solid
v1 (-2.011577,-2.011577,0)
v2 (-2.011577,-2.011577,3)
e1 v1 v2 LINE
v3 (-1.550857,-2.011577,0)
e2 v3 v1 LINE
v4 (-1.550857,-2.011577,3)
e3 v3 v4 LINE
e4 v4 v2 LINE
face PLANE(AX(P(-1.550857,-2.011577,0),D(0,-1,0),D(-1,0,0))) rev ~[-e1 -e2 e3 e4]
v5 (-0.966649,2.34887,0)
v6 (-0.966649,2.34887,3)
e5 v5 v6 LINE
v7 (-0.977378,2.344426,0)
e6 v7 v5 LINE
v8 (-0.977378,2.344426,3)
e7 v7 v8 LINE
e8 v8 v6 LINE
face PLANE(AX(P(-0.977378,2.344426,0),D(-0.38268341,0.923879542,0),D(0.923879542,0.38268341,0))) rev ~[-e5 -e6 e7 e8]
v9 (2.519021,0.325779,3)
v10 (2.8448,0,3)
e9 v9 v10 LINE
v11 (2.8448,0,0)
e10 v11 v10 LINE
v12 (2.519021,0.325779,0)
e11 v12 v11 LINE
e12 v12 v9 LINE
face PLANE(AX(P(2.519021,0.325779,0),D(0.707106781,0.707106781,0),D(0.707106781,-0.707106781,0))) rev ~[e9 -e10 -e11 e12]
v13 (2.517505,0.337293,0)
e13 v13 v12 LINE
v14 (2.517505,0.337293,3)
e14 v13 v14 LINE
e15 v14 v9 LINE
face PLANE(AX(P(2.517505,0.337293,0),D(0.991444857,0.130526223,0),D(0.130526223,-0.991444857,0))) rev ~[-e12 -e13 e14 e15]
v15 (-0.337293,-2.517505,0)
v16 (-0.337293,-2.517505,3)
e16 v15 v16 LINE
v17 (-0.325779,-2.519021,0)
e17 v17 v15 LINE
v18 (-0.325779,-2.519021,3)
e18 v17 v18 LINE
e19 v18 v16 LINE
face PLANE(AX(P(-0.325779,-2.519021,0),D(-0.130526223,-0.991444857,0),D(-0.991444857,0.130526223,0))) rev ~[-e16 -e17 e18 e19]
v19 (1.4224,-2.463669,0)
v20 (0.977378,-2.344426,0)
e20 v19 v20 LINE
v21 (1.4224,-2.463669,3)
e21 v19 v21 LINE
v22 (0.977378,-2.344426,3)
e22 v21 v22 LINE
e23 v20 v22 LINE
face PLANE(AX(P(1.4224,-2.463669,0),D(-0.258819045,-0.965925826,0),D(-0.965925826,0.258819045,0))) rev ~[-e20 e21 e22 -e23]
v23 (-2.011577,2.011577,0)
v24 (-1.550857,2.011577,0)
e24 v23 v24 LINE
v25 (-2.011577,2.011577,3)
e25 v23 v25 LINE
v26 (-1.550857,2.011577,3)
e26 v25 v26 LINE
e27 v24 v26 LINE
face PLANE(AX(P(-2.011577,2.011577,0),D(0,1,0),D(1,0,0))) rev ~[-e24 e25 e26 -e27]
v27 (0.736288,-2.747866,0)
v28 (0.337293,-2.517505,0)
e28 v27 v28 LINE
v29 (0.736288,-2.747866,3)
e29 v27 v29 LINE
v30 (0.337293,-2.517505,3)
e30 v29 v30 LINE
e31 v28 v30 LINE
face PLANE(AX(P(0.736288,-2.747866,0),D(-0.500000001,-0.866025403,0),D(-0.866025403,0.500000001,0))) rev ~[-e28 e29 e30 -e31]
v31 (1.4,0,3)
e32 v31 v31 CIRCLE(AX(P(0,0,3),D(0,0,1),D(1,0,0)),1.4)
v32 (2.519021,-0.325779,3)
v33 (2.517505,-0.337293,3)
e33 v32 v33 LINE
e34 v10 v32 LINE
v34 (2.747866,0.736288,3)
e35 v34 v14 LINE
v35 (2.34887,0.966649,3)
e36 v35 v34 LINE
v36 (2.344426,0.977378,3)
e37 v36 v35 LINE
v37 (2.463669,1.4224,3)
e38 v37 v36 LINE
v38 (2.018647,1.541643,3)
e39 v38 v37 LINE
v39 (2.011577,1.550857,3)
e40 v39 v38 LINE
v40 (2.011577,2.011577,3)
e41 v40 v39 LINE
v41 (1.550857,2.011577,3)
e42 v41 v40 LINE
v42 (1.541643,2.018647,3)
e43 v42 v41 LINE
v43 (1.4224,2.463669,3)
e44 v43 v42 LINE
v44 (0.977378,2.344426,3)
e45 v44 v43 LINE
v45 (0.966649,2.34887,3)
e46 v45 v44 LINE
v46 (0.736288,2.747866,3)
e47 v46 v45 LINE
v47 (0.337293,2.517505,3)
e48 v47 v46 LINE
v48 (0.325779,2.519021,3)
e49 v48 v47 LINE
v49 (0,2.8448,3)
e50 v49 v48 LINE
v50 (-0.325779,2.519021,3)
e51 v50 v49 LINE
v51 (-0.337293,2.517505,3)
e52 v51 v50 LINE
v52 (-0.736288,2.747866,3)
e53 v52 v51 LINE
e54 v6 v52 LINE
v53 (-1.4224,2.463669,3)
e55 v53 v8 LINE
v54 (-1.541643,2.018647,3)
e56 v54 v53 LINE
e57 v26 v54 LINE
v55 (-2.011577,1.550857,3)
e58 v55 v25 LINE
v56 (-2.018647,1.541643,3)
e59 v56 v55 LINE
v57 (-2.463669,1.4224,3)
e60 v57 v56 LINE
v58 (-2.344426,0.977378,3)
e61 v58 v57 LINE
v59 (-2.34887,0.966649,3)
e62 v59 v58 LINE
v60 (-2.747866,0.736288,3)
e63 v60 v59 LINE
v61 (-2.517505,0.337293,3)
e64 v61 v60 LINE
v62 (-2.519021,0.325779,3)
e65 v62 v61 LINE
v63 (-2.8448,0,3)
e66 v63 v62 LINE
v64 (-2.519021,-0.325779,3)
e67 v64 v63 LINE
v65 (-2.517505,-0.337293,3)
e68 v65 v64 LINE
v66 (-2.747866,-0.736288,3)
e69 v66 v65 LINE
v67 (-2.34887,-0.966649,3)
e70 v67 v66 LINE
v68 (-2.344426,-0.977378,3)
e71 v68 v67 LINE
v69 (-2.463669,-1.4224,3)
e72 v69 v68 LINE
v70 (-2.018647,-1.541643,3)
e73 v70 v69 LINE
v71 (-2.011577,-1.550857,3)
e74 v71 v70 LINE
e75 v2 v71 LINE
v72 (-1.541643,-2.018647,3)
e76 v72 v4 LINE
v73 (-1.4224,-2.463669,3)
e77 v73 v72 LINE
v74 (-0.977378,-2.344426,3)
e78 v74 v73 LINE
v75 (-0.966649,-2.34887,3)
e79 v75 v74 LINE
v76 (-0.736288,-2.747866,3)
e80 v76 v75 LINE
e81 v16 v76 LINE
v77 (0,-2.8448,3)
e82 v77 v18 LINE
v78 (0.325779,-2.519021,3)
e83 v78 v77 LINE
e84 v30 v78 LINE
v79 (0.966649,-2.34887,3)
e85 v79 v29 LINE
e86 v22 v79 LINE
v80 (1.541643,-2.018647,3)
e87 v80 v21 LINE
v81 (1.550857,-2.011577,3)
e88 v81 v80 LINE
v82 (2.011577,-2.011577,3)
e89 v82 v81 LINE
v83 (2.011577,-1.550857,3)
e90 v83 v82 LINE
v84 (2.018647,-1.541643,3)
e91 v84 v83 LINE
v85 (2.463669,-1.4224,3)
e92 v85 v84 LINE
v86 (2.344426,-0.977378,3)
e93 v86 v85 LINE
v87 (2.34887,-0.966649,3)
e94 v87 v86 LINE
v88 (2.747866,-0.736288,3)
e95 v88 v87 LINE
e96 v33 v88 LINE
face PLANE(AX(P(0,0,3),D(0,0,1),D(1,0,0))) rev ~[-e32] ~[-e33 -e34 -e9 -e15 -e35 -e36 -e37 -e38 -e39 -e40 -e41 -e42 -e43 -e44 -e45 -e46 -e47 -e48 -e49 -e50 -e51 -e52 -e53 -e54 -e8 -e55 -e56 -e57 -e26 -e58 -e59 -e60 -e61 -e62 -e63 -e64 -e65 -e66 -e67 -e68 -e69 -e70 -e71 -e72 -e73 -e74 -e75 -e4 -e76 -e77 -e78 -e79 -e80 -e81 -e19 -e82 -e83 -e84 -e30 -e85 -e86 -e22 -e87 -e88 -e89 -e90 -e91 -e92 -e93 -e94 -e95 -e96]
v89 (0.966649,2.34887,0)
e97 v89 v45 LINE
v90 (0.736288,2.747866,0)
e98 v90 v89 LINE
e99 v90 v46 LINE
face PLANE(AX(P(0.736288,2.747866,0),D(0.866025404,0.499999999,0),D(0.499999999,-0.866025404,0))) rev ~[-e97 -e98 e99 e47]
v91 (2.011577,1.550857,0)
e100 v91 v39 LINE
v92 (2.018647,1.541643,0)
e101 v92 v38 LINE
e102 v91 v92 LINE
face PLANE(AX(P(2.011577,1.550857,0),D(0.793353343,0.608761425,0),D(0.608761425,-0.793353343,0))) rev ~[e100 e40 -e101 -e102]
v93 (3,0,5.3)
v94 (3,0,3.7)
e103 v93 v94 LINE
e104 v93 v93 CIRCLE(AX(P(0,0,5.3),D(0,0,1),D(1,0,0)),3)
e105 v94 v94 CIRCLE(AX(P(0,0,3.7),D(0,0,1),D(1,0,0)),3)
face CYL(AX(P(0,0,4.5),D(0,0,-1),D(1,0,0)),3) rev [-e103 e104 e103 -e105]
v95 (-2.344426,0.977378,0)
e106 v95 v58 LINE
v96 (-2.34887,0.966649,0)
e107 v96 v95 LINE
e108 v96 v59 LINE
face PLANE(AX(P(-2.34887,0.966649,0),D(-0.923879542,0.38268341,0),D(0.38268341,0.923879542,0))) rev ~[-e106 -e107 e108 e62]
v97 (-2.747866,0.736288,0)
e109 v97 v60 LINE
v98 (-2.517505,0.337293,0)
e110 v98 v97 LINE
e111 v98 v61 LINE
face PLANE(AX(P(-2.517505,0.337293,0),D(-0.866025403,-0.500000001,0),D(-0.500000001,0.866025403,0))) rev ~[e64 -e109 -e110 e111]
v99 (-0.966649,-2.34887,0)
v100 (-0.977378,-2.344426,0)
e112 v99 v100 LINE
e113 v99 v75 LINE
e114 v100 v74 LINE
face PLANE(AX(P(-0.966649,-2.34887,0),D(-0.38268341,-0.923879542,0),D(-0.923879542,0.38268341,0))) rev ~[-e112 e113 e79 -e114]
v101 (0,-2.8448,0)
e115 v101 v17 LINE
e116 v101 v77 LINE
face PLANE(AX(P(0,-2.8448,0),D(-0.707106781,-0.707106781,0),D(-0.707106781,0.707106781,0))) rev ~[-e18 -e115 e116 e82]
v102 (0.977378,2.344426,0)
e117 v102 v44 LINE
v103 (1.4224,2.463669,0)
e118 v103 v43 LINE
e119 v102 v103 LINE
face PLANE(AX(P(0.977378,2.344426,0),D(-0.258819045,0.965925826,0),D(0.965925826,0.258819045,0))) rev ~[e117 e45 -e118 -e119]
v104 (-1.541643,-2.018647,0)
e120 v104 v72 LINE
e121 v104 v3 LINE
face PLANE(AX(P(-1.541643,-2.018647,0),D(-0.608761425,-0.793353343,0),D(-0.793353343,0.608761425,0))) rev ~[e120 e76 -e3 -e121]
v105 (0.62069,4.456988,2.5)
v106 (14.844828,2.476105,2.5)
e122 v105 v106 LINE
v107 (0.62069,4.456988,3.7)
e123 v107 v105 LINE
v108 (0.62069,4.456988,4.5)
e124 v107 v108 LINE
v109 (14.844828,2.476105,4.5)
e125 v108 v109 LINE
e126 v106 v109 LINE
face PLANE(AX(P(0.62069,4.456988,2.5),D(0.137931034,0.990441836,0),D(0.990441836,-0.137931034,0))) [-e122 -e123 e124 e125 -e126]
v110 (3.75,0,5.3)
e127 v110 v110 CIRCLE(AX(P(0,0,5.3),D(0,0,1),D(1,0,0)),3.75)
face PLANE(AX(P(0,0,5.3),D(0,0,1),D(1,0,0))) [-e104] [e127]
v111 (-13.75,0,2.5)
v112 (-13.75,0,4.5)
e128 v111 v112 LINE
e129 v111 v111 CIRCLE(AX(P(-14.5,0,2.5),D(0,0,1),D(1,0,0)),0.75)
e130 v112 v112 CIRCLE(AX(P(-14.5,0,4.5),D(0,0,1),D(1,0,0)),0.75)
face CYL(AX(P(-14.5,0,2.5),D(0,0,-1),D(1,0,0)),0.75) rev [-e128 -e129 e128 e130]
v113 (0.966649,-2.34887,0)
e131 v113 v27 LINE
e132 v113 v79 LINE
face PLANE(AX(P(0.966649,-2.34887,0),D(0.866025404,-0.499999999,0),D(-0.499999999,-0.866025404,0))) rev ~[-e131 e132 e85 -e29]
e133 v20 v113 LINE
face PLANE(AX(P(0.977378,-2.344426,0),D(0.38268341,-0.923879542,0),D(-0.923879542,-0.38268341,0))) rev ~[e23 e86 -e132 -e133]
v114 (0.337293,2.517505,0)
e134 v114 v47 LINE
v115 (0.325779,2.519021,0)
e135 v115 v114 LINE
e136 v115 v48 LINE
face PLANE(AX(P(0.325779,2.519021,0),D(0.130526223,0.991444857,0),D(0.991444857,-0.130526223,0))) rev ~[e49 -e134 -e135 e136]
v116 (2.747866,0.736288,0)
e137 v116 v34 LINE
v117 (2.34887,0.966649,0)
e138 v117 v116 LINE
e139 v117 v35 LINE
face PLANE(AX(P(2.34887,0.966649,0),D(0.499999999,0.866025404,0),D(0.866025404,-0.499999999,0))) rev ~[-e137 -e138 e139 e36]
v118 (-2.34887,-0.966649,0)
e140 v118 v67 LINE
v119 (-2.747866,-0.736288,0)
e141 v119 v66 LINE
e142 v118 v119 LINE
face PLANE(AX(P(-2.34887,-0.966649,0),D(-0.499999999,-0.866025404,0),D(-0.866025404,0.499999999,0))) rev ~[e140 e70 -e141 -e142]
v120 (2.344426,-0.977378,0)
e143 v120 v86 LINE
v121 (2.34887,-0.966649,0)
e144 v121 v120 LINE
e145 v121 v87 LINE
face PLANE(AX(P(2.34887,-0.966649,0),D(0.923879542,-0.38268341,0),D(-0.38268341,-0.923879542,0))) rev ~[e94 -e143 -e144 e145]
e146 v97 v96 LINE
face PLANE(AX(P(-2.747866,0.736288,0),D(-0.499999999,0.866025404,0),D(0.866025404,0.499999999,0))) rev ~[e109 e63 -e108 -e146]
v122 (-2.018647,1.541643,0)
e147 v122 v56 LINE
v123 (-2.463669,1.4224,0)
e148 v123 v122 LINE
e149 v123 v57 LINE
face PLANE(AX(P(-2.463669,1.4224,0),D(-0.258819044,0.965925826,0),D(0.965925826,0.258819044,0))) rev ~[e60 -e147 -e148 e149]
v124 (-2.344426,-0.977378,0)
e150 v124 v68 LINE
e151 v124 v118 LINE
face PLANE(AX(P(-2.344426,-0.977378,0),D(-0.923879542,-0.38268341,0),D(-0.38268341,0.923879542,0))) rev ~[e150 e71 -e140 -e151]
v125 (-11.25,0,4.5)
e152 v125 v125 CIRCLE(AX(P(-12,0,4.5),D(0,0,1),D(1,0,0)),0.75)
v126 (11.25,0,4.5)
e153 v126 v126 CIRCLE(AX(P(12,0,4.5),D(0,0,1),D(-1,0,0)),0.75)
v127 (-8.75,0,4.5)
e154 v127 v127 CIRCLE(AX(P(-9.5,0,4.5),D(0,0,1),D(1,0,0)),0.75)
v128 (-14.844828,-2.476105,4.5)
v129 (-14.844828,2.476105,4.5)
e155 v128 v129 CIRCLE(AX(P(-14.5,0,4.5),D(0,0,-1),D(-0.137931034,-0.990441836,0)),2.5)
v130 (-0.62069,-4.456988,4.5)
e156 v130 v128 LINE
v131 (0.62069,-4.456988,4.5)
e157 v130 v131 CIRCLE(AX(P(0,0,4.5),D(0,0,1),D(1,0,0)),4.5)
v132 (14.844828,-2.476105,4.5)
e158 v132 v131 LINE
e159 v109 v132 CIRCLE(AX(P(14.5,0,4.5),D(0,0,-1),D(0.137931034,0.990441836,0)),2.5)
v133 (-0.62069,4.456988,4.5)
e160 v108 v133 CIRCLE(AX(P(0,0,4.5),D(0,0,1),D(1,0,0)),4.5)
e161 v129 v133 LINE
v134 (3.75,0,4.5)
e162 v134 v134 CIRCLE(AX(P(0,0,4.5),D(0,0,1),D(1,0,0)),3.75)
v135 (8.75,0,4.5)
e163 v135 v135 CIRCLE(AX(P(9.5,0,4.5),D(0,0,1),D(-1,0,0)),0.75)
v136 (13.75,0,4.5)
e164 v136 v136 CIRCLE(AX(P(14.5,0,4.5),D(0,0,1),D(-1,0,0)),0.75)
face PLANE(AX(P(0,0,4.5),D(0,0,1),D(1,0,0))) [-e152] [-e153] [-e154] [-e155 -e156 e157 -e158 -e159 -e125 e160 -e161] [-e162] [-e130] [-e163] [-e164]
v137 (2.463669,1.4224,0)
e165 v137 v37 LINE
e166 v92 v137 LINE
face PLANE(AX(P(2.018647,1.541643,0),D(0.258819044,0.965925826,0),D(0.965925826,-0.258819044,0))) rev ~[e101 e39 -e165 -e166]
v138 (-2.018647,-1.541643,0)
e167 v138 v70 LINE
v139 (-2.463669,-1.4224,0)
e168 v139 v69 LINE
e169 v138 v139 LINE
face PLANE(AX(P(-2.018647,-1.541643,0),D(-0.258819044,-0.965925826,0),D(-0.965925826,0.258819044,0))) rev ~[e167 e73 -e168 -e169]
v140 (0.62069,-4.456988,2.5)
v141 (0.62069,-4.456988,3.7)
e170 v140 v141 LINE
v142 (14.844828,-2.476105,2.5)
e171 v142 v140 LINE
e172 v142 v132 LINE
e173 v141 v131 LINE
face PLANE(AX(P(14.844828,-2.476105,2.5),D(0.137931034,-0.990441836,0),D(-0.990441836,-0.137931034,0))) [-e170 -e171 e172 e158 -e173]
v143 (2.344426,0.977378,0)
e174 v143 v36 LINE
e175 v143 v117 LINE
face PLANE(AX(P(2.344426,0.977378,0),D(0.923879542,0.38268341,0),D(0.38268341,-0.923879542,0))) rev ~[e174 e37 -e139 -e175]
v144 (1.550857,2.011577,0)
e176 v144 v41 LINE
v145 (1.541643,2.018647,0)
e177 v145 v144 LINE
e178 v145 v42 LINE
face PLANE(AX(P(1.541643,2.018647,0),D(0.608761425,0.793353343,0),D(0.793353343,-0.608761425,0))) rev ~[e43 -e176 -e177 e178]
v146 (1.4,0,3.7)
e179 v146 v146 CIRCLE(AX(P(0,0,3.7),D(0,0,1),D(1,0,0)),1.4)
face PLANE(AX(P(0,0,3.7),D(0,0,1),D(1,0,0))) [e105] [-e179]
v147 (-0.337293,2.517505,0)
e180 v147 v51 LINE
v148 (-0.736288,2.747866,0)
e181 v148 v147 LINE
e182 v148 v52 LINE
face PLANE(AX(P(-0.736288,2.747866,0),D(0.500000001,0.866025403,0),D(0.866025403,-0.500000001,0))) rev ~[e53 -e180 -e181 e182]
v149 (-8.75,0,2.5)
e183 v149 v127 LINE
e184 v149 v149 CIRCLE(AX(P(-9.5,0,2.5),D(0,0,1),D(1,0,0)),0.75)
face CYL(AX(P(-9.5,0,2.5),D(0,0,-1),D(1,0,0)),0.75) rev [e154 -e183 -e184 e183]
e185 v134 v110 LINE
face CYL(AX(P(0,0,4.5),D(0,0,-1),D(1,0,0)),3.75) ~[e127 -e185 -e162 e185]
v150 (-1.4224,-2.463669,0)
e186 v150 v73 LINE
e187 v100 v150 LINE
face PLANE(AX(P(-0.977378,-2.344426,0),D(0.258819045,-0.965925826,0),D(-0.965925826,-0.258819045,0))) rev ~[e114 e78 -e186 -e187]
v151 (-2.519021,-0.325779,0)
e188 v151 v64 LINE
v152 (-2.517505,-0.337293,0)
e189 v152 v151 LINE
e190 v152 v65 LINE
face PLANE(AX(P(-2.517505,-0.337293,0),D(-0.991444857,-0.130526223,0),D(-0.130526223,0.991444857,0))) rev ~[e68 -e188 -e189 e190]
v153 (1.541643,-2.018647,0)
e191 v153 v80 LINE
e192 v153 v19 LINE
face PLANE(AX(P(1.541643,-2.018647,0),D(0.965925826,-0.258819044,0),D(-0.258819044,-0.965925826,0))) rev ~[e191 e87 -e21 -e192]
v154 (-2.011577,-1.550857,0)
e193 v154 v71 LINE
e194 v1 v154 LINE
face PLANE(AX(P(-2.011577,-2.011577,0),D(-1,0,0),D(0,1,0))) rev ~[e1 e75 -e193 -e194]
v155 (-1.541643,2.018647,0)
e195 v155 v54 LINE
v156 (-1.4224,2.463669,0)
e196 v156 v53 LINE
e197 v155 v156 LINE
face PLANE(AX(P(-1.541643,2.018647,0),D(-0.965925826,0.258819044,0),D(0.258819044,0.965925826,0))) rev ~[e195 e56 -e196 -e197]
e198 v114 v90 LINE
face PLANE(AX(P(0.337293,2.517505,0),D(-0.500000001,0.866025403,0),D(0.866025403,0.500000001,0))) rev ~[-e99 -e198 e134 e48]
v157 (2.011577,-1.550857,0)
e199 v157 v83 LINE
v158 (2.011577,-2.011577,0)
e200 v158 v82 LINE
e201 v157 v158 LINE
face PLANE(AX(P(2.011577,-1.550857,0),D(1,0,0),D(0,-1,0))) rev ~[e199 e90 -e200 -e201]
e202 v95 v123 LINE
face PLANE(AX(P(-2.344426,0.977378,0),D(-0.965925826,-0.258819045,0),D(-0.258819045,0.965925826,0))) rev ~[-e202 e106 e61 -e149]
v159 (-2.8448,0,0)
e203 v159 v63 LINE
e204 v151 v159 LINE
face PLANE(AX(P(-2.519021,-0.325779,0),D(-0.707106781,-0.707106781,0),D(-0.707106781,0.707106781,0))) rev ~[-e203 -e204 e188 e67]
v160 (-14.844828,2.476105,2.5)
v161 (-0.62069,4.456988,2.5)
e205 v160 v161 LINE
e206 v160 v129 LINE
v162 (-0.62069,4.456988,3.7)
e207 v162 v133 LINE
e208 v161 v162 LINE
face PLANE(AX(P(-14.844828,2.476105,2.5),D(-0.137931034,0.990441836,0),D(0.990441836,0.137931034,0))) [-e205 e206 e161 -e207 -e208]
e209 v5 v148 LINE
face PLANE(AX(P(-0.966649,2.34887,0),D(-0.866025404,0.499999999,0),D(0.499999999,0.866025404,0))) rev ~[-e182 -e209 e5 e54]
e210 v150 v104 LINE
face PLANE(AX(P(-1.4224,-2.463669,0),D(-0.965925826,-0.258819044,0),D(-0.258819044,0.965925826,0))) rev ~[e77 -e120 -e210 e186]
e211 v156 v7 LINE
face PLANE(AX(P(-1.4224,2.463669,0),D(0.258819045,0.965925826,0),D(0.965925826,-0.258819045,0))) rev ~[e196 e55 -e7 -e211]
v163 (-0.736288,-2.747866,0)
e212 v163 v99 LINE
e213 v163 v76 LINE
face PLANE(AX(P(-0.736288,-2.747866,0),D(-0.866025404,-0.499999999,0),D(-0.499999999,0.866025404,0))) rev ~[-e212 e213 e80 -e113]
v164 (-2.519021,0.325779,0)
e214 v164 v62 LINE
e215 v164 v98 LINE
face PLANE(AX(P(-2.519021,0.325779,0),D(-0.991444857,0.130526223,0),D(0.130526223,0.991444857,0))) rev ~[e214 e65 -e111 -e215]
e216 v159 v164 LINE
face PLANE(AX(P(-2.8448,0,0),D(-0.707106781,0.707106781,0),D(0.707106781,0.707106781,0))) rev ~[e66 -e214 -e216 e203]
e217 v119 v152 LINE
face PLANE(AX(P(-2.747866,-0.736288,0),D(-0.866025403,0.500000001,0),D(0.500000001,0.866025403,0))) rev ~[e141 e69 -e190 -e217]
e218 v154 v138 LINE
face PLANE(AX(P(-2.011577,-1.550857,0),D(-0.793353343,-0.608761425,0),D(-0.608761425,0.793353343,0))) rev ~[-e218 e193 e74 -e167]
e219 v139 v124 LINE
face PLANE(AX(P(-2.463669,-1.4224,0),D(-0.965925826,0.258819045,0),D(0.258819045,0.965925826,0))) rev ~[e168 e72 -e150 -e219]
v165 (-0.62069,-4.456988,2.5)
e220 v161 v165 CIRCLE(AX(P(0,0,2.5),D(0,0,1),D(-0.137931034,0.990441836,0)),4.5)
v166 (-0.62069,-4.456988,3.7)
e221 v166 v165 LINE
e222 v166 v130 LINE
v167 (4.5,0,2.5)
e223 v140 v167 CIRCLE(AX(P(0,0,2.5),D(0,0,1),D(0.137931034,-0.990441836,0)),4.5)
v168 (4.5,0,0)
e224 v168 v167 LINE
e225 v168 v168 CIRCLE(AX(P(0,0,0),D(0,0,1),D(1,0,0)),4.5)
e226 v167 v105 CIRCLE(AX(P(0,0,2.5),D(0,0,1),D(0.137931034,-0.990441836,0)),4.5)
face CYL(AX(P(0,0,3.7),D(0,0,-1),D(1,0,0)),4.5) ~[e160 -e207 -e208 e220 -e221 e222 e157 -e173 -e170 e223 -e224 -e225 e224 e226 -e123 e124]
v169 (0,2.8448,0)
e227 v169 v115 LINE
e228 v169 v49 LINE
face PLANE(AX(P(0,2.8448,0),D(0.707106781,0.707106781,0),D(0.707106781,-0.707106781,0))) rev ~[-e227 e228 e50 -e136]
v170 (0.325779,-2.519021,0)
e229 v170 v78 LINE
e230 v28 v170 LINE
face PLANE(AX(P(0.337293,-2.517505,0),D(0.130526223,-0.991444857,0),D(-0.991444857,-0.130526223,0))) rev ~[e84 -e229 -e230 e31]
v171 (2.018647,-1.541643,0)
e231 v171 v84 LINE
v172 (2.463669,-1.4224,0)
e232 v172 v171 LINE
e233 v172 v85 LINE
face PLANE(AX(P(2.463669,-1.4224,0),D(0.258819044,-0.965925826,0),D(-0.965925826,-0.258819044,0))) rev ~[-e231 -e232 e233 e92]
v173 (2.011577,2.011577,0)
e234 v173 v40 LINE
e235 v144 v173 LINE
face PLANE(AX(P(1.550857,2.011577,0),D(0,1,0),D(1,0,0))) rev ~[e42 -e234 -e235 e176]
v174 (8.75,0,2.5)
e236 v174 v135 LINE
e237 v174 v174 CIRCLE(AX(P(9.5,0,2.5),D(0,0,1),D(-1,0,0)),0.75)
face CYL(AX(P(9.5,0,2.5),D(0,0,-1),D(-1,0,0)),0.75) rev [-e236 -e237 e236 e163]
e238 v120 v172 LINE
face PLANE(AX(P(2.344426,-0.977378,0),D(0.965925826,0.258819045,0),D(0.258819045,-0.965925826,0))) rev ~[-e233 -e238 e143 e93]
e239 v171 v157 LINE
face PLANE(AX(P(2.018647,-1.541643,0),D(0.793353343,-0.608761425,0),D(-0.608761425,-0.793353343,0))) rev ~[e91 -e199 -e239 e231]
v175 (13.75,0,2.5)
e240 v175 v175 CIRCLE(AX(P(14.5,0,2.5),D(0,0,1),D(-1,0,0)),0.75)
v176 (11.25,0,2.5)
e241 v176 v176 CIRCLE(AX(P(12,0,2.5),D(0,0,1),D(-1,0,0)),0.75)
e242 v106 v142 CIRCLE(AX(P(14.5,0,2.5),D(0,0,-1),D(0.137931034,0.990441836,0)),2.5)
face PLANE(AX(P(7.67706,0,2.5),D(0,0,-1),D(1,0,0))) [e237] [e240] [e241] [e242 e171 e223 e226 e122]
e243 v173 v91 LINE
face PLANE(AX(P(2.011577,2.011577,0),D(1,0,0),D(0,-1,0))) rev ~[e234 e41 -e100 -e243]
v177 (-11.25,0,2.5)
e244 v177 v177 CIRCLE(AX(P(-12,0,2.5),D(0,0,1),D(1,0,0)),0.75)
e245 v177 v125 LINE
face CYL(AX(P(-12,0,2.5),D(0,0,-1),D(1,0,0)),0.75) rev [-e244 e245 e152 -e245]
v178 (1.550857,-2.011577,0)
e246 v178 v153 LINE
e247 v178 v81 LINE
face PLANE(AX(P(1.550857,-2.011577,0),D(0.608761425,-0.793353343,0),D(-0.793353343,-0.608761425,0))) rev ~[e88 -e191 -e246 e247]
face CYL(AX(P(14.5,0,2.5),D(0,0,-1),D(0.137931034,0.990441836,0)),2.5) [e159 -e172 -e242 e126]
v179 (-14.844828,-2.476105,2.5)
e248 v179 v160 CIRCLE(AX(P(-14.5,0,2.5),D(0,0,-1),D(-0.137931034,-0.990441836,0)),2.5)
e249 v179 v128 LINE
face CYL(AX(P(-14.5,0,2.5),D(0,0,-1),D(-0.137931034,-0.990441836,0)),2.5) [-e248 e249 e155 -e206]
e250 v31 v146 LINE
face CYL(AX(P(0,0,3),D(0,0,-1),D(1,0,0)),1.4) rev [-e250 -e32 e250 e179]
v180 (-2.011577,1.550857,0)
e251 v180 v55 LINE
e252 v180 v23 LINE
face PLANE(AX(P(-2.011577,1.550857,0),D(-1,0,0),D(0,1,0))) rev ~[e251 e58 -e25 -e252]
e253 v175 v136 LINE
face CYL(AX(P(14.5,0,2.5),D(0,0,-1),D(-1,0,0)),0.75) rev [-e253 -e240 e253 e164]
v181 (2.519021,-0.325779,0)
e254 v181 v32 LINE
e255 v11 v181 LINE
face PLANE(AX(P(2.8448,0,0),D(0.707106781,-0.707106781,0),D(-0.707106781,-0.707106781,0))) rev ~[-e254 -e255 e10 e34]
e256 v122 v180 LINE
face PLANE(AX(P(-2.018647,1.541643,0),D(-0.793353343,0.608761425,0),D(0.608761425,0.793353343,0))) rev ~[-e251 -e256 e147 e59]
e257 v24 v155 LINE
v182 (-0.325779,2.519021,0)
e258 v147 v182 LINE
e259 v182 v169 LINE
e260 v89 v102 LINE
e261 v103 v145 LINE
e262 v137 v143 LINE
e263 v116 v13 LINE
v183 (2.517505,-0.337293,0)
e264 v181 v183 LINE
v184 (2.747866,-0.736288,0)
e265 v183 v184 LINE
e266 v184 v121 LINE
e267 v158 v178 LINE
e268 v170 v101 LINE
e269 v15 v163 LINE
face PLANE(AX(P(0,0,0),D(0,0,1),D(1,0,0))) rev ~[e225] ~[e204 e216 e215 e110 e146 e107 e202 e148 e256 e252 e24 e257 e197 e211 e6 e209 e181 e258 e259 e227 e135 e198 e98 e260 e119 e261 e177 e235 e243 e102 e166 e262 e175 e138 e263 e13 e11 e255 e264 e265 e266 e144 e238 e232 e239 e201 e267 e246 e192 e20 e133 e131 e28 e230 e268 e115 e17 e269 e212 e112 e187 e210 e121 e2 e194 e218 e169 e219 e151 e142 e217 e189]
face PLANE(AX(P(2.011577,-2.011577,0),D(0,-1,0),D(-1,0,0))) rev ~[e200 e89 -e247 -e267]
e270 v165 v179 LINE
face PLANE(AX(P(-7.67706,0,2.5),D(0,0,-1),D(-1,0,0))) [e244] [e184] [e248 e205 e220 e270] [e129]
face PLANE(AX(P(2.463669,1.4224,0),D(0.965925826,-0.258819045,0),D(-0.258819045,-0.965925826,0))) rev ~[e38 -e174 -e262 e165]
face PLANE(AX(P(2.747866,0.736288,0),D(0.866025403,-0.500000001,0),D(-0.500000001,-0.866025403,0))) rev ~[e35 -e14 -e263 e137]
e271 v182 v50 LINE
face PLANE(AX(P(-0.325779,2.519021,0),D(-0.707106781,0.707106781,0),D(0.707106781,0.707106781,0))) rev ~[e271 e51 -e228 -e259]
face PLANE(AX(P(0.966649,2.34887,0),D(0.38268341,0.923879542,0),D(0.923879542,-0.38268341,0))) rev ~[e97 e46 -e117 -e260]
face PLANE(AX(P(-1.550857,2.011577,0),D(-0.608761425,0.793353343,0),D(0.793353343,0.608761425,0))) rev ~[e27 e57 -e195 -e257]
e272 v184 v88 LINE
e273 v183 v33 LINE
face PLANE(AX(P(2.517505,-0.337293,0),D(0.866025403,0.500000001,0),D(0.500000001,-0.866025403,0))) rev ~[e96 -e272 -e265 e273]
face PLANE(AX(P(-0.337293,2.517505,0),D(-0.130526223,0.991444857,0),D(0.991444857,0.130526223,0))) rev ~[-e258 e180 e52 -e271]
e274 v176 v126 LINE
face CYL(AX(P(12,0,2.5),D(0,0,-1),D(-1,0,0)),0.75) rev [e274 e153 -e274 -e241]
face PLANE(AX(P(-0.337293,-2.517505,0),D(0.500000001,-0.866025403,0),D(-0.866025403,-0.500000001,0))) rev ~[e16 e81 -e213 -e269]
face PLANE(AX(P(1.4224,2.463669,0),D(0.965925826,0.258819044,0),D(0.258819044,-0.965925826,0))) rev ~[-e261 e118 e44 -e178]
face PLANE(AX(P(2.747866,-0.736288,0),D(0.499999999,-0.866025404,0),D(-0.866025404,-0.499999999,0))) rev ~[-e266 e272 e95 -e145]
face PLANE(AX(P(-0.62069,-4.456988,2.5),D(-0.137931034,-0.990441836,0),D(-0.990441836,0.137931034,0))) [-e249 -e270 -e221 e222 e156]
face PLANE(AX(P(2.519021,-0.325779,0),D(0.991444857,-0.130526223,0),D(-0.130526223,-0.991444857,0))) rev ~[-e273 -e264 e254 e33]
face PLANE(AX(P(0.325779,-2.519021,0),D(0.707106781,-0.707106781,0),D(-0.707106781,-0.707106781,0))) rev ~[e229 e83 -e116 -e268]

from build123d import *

# Parameters (mm, degrees)
ESQUISSE1_R                  = 4.5
BOSS_EXTRU_1_DEPTH           = 3
BOSS_EXTRU_2_START           = -0.5
ESQUISSE2_R                  = 0.75
BOSS_EXTRU_2_DEPTH           = 2
R_P_TITION_CIRCULAIRE1_COUNT = 2
ESQUISSE5_R                  = 4.5
ESQUISSE5_R_2                = 1.4
BOSS_EXTRU_4_DEPTH           = 0.7
ESQUISSE6_R                  = 4.5
ESQUISSE6_R_2                = 3
BOSS_EXTRU_5_DEPTH           = 0.8
ESQUISSE7_R                  = 3.75
ESQUISSE7_R_2                = 3
BOSS_EXTRU_6_DEPTH           = 0.8


with BuildPart() as part:
    # Esquisse1 → Boss.-Extru.1 (new body)
    with BuildSketch(Plane.XY):
        Circle(ESQUISSE1_R)
        Polygon((2.011577371, -1.550856692), (2.011577371, -2.011577371), (1.550856692, -2.011577371), (1.541643286, -2.018647066), (1.4224, -2.463669069), (0.977377998, -2.344425783), (0.966648759, -2.348869979), (0.73628842, -2.747865791), (0.337292608, -2.517505451), (0.325778716, -2.519021284), (0, -2.8448), (-0.325778716, -2.519021284), (-0.337292608, -2.517505451), (-0.73628842, -2.747865791), (-0.966648759, -2.348869979), (-0.977377998, -2.344425783), (-1.4224, -2.463669069), (-1.541643286, -2.018647066), (-1.550856692, -2.011577371), (-2.011577371, -2.011577371), (-2.011577371, -1.550856692), (-2.018647066, -1.541643286), (-2.463669069, -1.4224), (-2.344425783, -0.977377998), (-2.348869979, -0.966648759), (-2.747865791, -0.73628842), (-2.517505451, -0.337292608), (-2.519021284, -0.325778716), (-2.8448, 0), (-2.519021284, 0.325778716), (-2.517505451, 0.337292608), (-2.747865791, 0.73628842), (-2.348869979, 0.966648759), (-2.344425783, 0.977377998), (-2.463669069, 1.4224), (-2.018647066, 1.541643286), (-2.011577371, 1.550856692), (-2.011577371, 2.011577371), (-1.550856692, 2.011577371), (-1.541643286, 2.018647066), (-1.4224, 2.463669069), (-0.977377998, 2.344425783), (-0.966648759, 2.348869979), (-0.73628842, 2.747865791), (-0.337292608, 2.517505451), (-0.325778716, 2.519021284), (0, 2.8448), (0.325778716, 2.519021284), (0.337292608, 2.517505451), (0.73628842, 2.747865791), (0.966648759, 2.348869979), (0.977377998, 2.344425783), (1.4224, 2.463669069), (1.541643286, 2.018647066), (1.550856692, 2.011577371), (2.011577371, 2.011577371), (2.011577371, 1.550856692), (2.018647066, 1.541643286), (2.463669069, 1.4224), (2.344425783, 0.977377998), (2.348869979, 0.966648759), (2.747865791, 0.73628842), (2.517505451, 0.337292608), (2.519021284, 0.325778716), (2.8448, 0), (2.519021284, -0.325778716), (2.517505451, -0.337292608), (2.747865791, -0.73628842), (2.348869979, -0.966648759), (2.344425783, -0.977377998), (2.463669069, -1.4224), (2.018647066, -1.541643286), align=None, mode=Mode.SUBTRACT)
    extrude(amount=BOSS_EXTRU_1_DEPTH)

    # Esquisse2 → Boss.-Extru.2 (add)
    with BuildSketch(Plane.XY.offset(3).offset(BOSS_EXTRU_2_START)):
        with BuildLine():
            Line((-14.844827586, 2.476104589), (-0.620689655, 4.45698826))
            ThreePointArc((-0.620689655, 4.45698826), (-4.5, 0), (-0.620689655, -4.45698826))
            Line((-0.620689655, -4.45698826), (-14.844827586, -2.476104589))
            ThreePointArc((-14.844827586, -2.476104589), (-17, 0), (-14.844827586, 2.476104589))
        make_face()
        with Locations((-14.5, 0)):
            Circle(ESQUISSE2_R, mode=Mode.SUBTRACT)
        with Locations((-12, 0)):
            Circle(ESQUISSE2_R, mode=Mode.SUBTRACT)
        with Locations((-9.5, 0)):
            Circle(ESQUISSE2_R, mode=Mode.SUBTRACT)
    boss_extru_2 = extrude(amount=BOSS_EXTRU_2_DEPTH)

    # Répétition circulaire1: Boss.-Extru.2 ×2 about axis
    r_p_tition_circulaire1_axis = Axis((0, 0, 0), (0, 0, 1))
    for i in range(1, R_P_TITION_CIRCULAIRE1_COUNT):
        add(boss_extru_2.rotate(r_p_tition_circulaire1_axis, i * 360 / R_P_TITION_CIRCULAIRE1_COUNT))

    # Esquisse5 → Boss.-Extru.4 (add)
    with BuildSketch(Plane.XY.offset(3)):
        Circle(ESQUISSE5_R)
        Circle(ESQUISSE5_R_2, mode=Mode.SUBTRACT)
    extrude(amount=BOSS_EXTRU_4_DEPTH)

    # Esquisse6 → Boss.-Extru.5 (add)
    with BuildSketch(Plane.XY.offset(3.7)):
        Circle(ESQUISSE6_R)
        Circle(ESQUISSE6_R_2, mode=Mode.SUBTRACT)
    extrude(amount=BOSS_EXTRU_5_DEPTH)

    # Esquisse7 → Boss.-Extru.6 (add)
    with BuildSketch(Plane.XY.offset(4.5)):
        Circle(ESQUISSE7_R)
        Circle(ESQUISSE7_R_2, mode=Mode.SUBTRACT)
    extrude(amount=BOSS_EXTRU_6_DEPTH)


solid = part.part
